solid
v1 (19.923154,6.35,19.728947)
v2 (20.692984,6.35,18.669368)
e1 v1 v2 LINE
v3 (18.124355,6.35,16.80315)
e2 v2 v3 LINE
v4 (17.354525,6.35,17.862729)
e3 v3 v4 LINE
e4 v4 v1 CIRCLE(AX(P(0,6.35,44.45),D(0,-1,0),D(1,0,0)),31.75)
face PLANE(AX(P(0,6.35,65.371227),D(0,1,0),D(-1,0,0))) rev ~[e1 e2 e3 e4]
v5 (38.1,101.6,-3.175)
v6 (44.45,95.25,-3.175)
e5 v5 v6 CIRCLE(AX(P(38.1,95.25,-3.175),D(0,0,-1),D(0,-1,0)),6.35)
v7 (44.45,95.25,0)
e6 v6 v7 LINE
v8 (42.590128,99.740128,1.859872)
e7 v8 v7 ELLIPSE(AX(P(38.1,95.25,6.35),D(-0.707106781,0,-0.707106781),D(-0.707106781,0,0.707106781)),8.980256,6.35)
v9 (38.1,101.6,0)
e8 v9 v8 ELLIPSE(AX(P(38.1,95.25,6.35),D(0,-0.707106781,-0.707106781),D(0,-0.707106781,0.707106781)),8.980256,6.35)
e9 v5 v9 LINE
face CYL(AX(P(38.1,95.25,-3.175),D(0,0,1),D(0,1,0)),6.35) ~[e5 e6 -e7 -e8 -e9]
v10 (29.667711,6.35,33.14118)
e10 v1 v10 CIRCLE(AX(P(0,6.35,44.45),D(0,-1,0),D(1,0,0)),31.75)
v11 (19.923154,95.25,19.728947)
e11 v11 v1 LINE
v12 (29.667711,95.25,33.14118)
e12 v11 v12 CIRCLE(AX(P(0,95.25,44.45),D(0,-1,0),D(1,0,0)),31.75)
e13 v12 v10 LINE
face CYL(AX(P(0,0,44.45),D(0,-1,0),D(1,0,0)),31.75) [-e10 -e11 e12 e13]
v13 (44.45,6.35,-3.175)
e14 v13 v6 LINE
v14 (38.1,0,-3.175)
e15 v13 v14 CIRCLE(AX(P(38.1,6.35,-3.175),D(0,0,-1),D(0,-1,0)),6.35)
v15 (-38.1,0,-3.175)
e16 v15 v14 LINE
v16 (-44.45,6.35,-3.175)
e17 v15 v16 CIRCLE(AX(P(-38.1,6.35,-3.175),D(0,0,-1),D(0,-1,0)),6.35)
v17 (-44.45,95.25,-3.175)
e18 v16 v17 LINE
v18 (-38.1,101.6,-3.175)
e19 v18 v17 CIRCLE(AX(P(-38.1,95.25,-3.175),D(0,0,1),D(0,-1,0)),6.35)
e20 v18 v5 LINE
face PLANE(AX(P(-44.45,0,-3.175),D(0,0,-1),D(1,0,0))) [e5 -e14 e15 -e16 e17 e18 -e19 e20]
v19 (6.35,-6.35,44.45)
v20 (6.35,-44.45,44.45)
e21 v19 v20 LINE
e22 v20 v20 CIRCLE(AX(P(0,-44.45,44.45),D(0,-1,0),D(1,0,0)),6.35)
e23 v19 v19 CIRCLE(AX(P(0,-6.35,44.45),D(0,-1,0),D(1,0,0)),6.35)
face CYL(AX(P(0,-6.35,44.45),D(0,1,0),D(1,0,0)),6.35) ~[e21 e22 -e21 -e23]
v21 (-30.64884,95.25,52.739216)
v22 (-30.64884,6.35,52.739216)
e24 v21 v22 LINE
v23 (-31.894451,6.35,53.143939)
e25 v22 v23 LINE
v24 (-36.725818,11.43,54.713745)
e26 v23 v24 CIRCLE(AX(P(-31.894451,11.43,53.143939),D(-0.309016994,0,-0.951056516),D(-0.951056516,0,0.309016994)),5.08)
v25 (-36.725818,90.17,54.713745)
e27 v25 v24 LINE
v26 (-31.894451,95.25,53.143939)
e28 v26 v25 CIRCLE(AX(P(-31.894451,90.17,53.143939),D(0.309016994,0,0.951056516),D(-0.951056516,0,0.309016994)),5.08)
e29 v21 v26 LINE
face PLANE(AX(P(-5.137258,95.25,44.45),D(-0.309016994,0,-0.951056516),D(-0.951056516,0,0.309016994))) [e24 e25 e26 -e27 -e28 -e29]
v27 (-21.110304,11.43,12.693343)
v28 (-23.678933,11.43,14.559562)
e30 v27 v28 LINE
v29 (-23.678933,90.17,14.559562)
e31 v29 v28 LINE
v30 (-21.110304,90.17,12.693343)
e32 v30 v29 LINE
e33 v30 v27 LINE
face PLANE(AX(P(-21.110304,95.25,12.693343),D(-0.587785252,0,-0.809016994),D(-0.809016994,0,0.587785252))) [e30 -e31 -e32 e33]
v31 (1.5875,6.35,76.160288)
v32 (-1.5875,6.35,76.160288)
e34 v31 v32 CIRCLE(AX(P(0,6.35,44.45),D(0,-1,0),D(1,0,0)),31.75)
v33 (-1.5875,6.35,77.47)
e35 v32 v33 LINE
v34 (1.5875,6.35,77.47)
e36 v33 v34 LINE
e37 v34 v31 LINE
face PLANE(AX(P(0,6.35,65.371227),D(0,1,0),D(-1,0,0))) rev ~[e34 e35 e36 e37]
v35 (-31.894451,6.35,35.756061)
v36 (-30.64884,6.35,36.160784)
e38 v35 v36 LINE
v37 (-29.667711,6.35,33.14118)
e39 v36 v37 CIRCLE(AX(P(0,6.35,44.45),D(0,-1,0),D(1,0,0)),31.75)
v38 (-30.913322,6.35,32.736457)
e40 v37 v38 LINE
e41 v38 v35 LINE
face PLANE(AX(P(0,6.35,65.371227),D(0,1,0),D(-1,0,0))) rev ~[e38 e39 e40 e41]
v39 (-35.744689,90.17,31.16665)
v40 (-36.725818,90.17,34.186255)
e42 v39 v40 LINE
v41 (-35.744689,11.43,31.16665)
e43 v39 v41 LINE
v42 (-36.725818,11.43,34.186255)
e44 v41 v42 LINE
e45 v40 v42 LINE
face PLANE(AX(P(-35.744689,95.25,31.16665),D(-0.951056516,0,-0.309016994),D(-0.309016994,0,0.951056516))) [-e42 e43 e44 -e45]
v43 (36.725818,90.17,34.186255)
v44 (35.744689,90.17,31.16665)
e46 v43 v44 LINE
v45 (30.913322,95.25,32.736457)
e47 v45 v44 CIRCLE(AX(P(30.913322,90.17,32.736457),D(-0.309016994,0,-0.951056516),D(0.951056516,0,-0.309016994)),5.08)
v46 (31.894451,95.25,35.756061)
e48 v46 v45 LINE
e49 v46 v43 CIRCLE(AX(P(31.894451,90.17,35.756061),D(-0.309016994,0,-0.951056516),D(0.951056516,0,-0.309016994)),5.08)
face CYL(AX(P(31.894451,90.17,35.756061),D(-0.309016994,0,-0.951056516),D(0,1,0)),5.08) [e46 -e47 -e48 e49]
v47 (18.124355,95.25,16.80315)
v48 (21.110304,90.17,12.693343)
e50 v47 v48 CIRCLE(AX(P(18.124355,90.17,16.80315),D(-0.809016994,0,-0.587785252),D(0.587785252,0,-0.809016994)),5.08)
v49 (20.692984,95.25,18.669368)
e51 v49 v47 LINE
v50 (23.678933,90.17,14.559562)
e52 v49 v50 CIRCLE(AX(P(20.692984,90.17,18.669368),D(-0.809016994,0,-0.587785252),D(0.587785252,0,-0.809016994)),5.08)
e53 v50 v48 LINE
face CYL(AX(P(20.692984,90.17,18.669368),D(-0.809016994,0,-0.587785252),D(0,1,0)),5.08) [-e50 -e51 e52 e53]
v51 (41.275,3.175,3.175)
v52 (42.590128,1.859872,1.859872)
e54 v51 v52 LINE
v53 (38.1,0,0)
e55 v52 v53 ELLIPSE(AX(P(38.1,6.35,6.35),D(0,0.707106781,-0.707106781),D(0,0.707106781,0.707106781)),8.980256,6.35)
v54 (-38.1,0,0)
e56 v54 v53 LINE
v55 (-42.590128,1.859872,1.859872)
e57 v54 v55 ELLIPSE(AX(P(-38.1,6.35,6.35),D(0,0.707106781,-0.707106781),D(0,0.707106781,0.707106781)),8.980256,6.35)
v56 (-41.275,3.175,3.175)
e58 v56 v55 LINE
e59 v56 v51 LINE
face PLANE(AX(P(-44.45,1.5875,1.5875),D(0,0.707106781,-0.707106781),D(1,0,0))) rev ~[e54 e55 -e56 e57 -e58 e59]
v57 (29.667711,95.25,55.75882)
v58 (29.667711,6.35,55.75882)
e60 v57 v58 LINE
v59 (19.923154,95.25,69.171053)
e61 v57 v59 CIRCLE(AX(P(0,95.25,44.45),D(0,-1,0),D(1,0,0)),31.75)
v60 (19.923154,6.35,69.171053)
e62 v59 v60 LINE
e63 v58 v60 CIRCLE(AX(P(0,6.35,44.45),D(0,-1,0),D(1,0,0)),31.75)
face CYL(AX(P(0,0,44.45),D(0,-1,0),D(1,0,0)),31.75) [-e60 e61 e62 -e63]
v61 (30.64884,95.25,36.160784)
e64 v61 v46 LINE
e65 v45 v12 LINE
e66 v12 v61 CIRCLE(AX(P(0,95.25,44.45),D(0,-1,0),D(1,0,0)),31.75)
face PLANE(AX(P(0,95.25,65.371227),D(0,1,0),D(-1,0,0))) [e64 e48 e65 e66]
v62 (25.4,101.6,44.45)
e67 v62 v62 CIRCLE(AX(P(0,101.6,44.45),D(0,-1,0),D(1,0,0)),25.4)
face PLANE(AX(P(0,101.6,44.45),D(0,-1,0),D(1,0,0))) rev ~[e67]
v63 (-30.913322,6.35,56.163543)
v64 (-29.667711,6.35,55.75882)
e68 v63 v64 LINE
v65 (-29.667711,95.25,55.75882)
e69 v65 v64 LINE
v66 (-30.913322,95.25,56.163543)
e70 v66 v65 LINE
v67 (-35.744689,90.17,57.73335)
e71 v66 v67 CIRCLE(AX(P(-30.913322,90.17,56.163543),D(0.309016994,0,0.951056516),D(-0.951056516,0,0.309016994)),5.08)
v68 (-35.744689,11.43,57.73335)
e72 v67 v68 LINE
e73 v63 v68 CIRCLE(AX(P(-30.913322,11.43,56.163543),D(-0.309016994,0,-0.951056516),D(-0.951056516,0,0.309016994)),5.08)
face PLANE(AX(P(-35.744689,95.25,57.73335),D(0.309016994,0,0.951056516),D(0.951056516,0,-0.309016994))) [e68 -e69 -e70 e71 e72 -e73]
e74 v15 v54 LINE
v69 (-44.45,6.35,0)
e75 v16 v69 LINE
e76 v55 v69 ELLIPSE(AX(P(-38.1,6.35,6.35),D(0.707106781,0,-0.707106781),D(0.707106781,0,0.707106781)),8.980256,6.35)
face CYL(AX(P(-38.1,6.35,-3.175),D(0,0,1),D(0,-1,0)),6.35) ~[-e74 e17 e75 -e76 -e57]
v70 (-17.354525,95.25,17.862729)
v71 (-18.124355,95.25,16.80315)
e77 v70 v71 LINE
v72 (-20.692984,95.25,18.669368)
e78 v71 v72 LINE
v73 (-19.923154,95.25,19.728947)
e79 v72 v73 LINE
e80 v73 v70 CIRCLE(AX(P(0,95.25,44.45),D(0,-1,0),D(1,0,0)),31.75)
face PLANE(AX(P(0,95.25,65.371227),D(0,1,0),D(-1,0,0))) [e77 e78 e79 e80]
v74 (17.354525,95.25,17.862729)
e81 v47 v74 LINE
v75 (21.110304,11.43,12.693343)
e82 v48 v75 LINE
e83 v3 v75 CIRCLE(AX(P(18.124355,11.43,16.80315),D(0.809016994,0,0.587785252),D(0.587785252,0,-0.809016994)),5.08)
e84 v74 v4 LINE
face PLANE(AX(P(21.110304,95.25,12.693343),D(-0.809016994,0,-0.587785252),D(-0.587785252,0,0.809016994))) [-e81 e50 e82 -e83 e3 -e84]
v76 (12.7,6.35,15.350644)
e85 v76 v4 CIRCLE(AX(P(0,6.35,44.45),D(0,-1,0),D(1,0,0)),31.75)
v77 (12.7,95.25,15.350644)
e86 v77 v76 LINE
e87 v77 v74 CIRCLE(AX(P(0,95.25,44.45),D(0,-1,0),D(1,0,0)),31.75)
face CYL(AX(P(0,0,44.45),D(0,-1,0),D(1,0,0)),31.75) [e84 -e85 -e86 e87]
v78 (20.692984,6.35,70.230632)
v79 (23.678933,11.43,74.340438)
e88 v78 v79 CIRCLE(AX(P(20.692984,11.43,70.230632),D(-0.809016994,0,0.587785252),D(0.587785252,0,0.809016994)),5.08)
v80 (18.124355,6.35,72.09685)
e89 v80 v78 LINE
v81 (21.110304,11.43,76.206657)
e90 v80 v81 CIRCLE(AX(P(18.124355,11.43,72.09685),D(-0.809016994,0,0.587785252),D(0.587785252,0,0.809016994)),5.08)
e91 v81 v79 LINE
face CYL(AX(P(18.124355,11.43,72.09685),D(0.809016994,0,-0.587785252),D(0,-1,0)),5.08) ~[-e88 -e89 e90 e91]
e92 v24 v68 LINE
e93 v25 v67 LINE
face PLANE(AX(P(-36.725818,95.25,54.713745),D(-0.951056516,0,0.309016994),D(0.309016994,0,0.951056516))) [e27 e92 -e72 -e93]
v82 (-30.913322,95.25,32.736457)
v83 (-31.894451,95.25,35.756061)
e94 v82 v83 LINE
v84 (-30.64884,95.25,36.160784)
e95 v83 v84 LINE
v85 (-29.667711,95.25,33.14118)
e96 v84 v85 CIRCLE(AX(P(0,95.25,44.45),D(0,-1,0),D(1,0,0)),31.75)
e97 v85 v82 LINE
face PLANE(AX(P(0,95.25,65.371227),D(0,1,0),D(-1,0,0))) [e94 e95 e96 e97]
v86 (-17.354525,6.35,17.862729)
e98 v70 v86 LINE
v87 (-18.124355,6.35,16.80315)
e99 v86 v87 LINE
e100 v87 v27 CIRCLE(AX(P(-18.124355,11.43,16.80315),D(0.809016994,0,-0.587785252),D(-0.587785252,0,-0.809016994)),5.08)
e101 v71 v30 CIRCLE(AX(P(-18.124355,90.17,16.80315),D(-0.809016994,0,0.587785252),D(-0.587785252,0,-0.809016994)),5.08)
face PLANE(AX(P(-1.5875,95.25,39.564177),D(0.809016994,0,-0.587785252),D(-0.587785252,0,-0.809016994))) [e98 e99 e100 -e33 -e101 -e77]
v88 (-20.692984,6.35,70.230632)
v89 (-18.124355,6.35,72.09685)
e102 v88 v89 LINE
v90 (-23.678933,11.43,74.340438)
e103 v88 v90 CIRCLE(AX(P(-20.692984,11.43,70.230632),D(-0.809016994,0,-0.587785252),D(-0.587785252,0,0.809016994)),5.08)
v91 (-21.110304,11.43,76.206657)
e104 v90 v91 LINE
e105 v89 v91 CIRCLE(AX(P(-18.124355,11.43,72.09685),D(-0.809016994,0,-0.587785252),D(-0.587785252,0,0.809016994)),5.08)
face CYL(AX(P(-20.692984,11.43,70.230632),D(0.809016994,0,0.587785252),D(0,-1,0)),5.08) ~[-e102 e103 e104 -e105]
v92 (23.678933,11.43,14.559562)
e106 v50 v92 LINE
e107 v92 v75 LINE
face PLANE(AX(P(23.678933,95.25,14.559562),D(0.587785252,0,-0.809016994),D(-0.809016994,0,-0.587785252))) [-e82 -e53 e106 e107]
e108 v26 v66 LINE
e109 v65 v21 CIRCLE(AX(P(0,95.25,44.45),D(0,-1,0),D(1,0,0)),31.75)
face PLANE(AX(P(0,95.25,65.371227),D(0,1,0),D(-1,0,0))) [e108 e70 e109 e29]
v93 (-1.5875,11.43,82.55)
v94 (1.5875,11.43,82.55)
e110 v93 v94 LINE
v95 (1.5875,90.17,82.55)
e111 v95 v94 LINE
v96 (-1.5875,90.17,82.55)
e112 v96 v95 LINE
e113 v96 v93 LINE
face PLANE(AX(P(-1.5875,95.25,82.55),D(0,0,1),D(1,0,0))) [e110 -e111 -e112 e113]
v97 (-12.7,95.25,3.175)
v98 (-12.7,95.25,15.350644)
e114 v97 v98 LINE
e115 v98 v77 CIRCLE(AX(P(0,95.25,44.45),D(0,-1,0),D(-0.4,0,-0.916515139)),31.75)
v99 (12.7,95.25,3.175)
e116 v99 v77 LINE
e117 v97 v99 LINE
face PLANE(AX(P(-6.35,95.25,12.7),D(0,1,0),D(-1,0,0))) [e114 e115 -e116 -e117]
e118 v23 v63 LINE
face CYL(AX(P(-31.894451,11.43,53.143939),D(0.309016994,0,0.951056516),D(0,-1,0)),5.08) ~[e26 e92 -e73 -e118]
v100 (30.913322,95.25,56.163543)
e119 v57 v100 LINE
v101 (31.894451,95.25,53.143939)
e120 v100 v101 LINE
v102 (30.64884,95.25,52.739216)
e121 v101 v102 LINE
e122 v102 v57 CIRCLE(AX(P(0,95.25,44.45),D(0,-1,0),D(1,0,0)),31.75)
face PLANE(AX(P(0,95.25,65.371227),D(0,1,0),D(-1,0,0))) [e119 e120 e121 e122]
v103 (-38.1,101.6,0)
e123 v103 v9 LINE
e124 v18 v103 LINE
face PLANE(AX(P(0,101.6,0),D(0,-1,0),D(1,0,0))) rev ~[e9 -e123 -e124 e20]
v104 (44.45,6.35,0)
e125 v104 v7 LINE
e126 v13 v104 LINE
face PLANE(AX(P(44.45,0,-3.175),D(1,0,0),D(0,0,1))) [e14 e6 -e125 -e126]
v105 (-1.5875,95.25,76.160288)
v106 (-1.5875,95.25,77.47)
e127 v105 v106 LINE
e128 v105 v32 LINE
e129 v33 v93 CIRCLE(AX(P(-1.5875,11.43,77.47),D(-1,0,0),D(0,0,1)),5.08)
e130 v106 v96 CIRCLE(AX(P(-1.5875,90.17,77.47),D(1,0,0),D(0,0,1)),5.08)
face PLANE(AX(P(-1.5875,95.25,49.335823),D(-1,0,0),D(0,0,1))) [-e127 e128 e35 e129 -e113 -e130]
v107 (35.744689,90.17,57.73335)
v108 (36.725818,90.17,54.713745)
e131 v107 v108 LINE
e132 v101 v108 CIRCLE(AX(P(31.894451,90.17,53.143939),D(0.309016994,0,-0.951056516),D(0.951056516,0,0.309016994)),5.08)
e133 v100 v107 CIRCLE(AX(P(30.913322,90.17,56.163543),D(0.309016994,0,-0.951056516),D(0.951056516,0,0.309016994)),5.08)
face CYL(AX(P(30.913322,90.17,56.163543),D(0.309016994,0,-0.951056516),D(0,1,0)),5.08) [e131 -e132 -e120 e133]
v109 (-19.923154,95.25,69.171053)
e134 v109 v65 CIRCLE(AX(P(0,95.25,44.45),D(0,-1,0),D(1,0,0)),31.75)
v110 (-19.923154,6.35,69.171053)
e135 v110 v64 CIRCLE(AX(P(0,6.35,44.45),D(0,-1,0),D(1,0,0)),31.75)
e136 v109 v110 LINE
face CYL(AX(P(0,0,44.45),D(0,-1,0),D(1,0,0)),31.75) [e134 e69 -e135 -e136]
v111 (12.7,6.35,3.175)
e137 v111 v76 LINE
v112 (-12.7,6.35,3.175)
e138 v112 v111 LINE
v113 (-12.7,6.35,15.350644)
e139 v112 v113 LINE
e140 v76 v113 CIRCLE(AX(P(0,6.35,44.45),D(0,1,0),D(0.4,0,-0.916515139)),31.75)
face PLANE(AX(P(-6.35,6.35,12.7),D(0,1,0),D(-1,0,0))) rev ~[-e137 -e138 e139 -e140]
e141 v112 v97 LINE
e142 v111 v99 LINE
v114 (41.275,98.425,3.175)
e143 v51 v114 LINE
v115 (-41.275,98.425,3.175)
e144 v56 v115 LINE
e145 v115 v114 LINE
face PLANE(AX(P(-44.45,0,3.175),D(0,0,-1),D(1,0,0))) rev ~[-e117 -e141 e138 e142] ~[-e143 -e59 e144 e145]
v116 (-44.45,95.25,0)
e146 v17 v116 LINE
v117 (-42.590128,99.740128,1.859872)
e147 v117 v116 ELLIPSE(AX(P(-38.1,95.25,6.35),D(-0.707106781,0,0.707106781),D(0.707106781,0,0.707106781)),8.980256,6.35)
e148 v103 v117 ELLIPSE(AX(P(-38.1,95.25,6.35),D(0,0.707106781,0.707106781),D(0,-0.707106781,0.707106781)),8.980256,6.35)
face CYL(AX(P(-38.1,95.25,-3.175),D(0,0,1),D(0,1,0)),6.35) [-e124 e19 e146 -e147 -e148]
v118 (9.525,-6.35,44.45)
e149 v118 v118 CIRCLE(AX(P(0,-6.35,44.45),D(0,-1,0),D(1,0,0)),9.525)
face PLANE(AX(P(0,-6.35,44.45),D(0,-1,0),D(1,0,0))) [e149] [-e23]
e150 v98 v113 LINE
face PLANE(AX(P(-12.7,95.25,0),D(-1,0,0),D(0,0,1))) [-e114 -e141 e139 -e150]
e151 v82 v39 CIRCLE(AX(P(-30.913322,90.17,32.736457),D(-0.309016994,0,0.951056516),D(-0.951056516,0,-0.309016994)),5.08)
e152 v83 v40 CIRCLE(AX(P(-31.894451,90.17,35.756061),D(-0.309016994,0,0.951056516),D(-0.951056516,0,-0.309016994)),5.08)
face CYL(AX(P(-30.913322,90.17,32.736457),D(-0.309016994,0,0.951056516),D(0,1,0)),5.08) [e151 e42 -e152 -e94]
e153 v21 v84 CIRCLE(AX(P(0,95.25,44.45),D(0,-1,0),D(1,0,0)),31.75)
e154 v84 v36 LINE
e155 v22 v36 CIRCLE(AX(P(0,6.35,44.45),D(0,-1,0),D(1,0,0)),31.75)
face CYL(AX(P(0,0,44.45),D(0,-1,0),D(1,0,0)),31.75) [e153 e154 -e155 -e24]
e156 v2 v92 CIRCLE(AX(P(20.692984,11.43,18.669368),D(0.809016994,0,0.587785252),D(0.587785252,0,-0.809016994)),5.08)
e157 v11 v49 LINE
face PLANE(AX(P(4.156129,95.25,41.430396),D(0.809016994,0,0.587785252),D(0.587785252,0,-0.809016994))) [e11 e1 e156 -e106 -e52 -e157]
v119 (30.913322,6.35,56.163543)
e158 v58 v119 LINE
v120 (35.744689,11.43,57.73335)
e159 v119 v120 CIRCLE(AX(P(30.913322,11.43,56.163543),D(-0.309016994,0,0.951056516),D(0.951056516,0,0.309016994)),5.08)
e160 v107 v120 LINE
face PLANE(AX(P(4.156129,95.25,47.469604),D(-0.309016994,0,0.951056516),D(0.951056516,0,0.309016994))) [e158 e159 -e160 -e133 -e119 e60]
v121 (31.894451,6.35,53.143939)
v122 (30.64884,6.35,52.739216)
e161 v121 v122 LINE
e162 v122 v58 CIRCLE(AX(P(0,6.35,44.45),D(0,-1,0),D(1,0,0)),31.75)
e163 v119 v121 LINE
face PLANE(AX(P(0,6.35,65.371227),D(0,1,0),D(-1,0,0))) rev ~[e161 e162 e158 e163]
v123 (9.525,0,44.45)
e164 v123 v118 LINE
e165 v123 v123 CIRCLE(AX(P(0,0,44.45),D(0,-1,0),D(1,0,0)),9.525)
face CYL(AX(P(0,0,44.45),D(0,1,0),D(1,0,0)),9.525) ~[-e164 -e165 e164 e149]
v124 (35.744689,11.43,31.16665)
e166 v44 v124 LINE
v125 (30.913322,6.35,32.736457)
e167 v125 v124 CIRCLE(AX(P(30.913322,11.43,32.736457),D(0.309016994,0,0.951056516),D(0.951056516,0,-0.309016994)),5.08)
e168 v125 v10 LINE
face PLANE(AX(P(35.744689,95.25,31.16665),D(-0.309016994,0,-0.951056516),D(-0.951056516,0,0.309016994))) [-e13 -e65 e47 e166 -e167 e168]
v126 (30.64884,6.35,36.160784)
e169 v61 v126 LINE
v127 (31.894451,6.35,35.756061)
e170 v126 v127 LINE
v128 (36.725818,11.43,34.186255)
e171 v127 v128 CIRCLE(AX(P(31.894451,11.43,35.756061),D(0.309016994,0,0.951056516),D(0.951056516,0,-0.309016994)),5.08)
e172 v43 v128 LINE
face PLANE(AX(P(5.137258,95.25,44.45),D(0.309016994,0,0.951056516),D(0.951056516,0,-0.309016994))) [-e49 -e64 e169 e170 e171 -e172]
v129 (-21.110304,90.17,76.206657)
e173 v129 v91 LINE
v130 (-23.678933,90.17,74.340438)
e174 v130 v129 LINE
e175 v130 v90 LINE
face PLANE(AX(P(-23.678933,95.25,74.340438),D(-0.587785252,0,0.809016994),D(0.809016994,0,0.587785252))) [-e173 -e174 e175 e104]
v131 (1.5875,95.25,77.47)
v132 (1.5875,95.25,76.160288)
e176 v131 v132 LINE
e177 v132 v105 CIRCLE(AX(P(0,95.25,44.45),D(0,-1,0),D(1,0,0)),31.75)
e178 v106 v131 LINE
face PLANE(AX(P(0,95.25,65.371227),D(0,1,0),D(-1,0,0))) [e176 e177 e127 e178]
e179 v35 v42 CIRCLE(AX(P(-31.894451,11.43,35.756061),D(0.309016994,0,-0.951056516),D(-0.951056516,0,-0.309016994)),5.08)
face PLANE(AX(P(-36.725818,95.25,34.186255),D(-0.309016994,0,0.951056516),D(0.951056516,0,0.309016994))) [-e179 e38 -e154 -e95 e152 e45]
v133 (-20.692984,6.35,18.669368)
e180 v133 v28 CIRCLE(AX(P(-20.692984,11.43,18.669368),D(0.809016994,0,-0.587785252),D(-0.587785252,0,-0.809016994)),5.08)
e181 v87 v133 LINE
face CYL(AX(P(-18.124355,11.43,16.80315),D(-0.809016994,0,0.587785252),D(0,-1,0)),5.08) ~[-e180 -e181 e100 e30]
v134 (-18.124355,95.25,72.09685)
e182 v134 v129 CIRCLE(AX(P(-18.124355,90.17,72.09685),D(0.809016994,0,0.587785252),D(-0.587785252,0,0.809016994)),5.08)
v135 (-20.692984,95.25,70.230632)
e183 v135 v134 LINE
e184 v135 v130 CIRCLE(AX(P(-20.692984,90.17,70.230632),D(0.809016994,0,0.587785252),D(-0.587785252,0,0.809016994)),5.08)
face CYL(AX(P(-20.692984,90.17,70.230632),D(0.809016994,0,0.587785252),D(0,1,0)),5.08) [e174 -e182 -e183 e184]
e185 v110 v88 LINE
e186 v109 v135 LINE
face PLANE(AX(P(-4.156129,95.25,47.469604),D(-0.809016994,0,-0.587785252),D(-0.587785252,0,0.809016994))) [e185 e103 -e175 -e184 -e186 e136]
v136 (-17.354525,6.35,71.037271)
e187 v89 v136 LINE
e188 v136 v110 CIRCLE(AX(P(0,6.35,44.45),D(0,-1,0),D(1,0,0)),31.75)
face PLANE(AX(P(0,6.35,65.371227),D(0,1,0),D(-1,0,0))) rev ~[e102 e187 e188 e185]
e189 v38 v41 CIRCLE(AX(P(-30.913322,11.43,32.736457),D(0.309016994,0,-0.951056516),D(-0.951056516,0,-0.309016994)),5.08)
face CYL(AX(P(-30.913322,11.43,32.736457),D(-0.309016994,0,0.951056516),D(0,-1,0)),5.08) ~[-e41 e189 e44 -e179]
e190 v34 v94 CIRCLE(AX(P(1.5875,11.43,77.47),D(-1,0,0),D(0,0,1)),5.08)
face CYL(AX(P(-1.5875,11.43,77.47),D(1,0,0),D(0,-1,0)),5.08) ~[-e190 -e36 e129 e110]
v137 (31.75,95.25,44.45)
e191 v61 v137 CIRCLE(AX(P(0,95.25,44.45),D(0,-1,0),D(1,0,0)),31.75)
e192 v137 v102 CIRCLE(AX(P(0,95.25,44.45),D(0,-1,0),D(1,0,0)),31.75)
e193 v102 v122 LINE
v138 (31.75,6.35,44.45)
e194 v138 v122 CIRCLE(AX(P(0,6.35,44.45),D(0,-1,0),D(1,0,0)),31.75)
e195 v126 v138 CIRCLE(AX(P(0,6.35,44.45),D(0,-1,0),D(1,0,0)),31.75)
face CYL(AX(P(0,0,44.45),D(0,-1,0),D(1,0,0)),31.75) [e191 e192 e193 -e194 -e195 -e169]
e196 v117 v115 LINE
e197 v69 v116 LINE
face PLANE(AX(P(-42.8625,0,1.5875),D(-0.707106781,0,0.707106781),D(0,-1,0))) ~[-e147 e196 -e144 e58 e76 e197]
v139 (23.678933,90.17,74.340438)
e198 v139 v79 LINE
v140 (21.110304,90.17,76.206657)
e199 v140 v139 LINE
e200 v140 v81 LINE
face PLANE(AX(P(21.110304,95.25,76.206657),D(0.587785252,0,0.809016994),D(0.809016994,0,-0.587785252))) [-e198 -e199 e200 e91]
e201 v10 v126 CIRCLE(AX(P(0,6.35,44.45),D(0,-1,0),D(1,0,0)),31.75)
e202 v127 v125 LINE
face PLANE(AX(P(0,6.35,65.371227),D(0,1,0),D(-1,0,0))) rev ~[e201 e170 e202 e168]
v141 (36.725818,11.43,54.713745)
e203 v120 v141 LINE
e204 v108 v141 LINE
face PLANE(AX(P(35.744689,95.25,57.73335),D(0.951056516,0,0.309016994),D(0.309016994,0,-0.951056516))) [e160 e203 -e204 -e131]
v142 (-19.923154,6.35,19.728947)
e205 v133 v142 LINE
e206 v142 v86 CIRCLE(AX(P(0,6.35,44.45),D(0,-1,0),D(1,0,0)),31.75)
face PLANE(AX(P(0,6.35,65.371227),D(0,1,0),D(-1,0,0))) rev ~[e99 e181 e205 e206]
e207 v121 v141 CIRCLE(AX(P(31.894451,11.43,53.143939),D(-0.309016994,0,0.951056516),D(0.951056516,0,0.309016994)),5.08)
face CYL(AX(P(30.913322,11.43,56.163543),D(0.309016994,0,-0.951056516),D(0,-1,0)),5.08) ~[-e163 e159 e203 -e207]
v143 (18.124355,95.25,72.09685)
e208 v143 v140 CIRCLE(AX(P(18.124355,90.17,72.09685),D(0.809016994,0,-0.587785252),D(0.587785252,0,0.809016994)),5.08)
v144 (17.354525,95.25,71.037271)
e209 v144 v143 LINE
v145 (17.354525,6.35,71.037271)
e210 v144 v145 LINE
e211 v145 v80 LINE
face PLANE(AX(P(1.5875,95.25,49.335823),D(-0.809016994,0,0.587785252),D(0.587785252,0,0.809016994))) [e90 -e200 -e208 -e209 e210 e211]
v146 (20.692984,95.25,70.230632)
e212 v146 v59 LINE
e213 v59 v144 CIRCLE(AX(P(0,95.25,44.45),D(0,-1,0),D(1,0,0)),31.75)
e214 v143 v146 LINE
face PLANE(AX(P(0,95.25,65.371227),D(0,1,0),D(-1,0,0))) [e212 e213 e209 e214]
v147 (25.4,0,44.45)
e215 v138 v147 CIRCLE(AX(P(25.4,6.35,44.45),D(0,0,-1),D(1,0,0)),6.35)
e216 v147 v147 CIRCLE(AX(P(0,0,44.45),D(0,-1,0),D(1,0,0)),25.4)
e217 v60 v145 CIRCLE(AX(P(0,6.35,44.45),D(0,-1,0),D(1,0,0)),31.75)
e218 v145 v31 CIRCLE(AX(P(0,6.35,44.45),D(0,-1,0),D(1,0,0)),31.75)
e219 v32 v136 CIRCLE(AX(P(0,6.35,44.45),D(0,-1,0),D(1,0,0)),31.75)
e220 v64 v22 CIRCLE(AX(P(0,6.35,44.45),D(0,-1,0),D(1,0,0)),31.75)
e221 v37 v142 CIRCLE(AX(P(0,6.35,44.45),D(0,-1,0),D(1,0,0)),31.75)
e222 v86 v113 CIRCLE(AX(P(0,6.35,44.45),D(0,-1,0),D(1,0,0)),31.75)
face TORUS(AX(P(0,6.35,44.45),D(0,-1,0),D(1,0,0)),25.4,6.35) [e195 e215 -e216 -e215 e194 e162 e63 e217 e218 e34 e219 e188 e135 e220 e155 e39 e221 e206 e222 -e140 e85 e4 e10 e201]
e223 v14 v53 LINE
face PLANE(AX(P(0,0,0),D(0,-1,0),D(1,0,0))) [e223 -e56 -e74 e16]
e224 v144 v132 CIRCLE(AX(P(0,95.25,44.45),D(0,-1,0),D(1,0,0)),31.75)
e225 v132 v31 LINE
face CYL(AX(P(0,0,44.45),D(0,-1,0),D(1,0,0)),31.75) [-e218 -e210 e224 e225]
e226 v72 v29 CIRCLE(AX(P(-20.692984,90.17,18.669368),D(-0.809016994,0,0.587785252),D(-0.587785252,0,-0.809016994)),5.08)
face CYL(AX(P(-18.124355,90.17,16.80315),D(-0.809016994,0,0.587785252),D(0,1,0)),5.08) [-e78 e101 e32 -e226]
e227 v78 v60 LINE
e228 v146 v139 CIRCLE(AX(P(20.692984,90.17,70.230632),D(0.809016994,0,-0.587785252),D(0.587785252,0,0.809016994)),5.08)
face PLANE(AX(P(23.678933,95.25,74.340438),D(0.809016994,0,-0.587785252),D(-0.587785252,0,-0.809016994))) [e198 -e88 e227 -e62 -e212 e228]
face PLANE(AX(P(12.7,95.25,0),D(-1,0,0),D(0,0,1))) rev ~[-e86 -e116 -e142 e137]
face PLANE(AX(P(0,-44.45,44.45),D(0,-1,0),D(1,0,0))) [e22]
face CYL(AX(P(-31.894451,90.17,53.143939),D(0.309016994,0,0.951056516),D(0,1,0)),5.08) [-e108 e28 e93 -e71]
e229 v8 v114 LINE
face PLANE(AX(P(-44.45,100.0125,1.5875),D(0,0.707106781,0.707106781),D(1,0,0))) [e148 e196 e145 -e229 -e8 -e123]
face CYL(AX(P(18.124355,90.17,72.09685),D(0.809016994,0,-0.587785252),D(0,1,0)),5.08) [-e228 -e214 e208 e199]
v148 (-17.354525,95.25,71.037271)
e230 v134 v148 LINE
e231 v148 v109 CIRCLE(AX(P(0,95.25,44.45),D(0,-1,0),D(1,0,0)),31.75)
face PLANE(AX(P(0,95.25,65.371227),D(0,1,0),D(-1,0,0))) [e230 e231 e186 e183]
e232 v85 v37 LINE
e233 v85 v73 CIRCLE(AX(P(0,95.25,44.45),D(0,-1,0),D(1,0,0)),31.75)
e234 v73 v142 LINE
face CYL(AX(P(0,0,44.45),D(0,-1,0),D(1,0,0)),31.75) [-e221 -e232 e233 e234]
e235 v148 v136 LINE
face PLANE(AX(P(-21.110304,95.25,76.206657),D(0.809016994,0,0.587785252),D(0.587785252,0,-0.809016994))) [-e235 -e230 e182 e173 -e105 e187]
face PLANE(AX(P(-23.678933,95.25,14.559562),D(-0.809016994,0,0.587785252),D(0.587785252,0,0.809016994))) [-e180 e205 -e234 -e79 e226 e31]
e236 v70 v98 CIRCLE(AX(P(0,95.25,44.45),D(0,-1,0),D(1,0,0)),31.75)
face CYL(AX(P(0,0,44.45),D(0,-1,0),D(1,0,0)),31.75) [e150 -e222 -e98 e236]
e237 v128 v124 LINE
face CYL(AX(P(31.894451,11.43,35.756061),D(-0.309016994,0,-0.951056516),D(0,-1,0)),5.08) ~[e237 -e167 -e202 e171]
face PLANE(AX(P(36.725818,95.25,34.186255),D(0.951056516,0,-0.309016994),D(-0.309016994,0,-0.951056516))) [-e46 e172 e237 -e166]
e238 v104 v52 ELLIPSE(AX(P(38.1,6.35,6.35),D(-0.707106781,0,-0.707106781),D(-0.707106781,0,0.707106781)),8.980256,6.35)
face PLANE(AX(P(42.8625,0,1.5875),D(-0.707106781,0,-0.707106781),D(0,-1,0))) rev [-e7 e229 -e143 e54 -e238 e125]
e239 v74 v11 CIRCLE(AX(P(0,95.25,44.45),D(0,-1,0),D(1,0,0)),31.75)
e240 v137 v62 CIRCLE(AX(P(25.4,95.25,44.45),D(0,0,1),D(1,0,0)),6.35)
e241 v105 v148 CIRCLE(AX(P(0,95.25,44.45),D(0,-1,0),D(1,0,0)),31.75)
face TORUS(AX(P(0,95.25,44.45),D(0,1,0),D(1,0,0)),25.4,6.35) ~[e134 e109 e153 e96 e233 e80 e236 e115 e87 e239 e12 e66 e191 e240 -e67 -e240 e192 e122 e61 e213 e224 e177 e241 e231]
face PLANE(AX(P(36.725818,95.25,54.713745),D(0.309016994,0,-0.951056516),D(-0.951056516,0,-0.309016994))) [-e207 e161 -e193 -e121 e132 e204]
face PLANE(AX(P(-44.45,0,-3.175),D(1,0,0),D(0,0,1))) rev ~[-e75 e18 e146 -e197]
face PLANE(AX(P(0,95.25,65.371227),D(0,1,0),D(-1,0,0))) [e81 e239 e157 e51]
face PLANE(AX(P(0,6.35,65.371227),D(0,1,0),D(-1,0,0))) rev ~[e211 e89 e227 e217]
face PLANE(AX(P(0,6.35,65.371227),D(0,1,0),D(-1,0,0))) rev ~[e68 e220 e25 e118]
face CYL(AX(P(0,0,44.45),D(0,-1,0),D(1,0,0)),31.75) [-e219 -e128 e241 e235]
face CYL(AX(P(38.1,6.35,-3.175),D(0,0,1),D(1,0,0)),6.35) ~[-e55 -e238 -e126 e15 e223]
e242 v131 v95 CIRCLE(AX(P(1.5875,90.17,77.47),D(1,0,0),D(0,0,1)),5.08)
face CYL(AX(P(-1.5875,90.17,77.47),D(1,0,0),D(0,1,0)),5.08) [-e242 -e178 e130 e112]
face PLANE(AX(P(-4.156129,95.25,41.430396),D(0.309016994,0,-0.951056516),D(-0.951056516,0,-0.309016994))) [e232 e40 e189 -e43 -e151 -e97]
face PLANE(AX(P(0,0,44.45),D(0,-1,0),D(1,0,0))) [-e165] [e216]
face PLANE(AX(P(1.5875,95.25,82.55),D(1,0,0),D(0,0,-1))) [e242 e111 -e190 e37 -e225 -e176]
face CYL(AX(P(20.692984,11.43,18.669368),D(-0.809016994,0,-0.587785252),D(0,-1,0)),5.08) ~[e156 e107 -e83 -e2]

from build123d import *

# Parameters (mm, degrees)
F0_R      = 31.75
F1_DEPTH  = 101.6
F0_W      = 88.9
F0_H      = 6.35
F2_R      = 6.35
F3_SIZE   = 3.175
F6_DEPTH  = 88.9
F7_R      = 5.08
F8_W      = 12.7
F8_H      = 25.4
F9_DEPTH  = 88.9
F10_R     = 6.35
F11_R     = 9.525
F12_DEPTH = 6.35
F13_R     = 6.35
F14_DEPTH = 38.1


with BuildPart() as f1:
    # F0 (on Front) → F1 (new body)
    with BuildSketch(Plane.XZ):
        with Locations((0, 44.45)):
            Circle(F0_R)
    extrude(amount=-F1_DEPTH)

    # F2
    f2_edges = [f1.edges().sort_by_distance(p)[0] for p in [
        (-31.75, 0, 44.45),
        (-31.75, 101.6, 44.45),
    ]]
    fillet(f2_edges, radius=F2_R)

    # F5 (on offset) → F6 (join)
    with BuildSketch(Plane(origin=(0, 95.25, 0), x_dir=(-1, 0, 0), z_dir=(0, 1, 0))):
        Polygon((1.5875, 49.3358226153), (1.5875, 82.55), (-1.5875, 82.55), (-1.5875, 49.3358226153), (0, 47.1508163165), align=None)
        Polygon((21.1103036338, 76.2066565737), (1.5875, 49.3358226153), (1.5875, 46.6350062987), (4.1561289571, 47.4696044392), (23.6789325909, 74.3404383977), align=None)
        Polygon((1.5875, 46.6350062987), (1.5875, 49.3358226153), (0, 47.1508163165), (0.6063710429, 46.316218176), align=None)
        Polygon((0, 47.1508163165), (-1.5875, 49.3358226153), (-1.5875, 46.6350062987), (-0.6063710429, 46.316218176), align=None)
        Polygon((-1.5875, 46.6350062987), (-1.5875, 49.3358226153), (-21.1103036338, 76.2066565737), (-23.6789325909, 74.3404383977), (-4.1561289571, 47.4696044392), align=None)
        Polygon((4.1561289571, 47.4696044392), (1.5875, 46.6350062987), (1.5875, 45.6033862632), (2.5686289571, 45.2845981405), align=None)
        Polygon((-1.5875, 45.6033862632), (-1.5875, 46.6350062987), (-4.1561289571, 47.4696044392), (-2.5686289571, 45.2845981405), align=None)
        Polygon((35.7446887923, 57.7333497053), (4.1561289571, 47.4696044392), (2.5686289571, 45.2845981405), (5.1372579143, 44.45), (36.7258177494, 54.7137452661), align=None)
        Polygon((-2.5686289571, 45.2845981405), (-4.1561289571, 47.4696044392), (-35.7446887923, 57.7333497053), (-36.7258177494, 54.7137452661), (-5.1372579143, 44.45), align=None)
        Polygon((5.1372579143, 44.45), (2.5686289571, 45.2845981405), (1.9622579143, 44.45), (2.5686289571, 43.6154018595), align=None)
        Polygon((-1.9622579143, 44.45), (-2.5686289571, 45.2845981405), (-5.1372579143, 44.45), (-2.5686289571, 43.6154018595), align=None)
        Polygon((36.7258177494, 34.1862547339), (5.1372579143, 44.45), (2.5686289571, 43.6154018595), (4.1561289571, 41.4303955608), (35.7446887923, 31.1666502947), align=None)
        Polygon((-2.5686289571, 43.6154018595), (-5.1372579143, 44.45), (-36.7258177494, 34.1862547339), (-35.7446887923, 31.1666502947), (-4.1561289571, 41.4303955608), align=None)
        Polygon((2.5686289571, 43.6154018595), (1.5875, 43.2966137368), (1.5875, 42.2649937013), (4.1561289571, 41.4303955608), align=None)
        Polygon((-1.5875, 42.2649937013), (-1.5875, 43.2966137368), (-2.5686289571, 43.6154018595), (-4.1561289571, 41.4303955608), align=None)
        Polygon((4.1561289571, 41.4303955608), (1.5875, 42.2649937013), (1.5875, 39.5641773847), (21.1103036338, 12.6933434263), (23.6789325909, 14.5595616023), align=None)
        Polygon((1.5875, 39.5641773847), (1.5875, 42.2649937013), (0.6063710429, 42.583781824), (0, 41.7491836835), align=None)
        Polygon((-0.6063710429, 42.583781824), (-1.5875, 42.2649937013), (-1.5875, 39.5641773847), (0, 41.7491836835), align=None)
        Polygon((-1.5875, 39.5641773847), (-1.5875, 42.2649937013), (-4.1561289571, 41.4303955608), (-23.6789325909, 14.5595616023), (-21.1103036338, 12.6933434263), align=None)
        Polygon((1.5875, 6.35), (1.5875, 39.5641773847), (0, 41.7491836835), (-1.5875, 39.5641773847), (-1.5875, 6.35), align=None)
    extrude(amount=-F6_DEPTH)

    # F7
    f7_edges = [f1.edges().sort_by_distance(p)[0] for p in [
        (0, 95.25, 82.55),
        (-22.394618, 95.25, 75.273547),
        (22.394618, 95.25, 75.273547),
        (36.235253, 95.25, 56.223547),
        (36.235253, 95.25, 32.676453),
        (22.394618, 95.25, 13.626453),
        (0, 95.25, 6.35),
        (-22.394618, 95.25, 13.626453),
        (-36.235253, 95.25, 32.676453),
        (-36.235253, 95.25, 56.223547),
        (-36.235253, 6.35, 56.223547),
        (-36.235253, 6.35, 32.676453),
        (-22.394618, 6.35, 75.273547),
        (0, 6.35, 82.55),
        (22.394618, 6.35, 75.273547),
        (36.235253, 6.35, 56.223547),
        (36.235253, 6.35, 32.676453),
        (22.394618, 6.35, 13.626453),
        (0, 6.35, 6.35),
        (-22.394618, 6.35, 13.626453),
    ]]
    fillet(f7_edges, radius=F7_R)



with BuildPart() as f1b:
    # F0 (on Front) → F1, piece 2 (new body)
    with BuildSketch(Plane.XZ):
        Rectangle(F0_W, F0_H)
    extrude(amount=-F1_DEPTH)

    # F3
    f3_edges = [f1b.edges().sort_by_distance(p)[0] for p in [
        (0, 0, 3.175),
        (44.45, 50.8, 3.175),
        (-44.45, 50.8, 3.175),
        (0, 101.6, 3.175),
    ]]
    chamfer(f3_edges, length=F3_SIZE)


with BuildPart() as f1_1:
    add(f1.part)

    add(f1b.part)  # F9 merges F1b
    # F8 (on offset) → F9 (join)
    with BuildSketch(Plane(origin=(0, 95.25, 0), x_dir=(-1, 0, 0), z_dir=(0, 1, 0))):
        with Locations((6.35, 12.7)):
            Rectangle(F8_W, F8_H)
        with Locations((-6.35, 12.7)):
            Rectangle(F8_W, F8_H)
    extrude(amount=-F9_DEPTH)

    # F10
    f10_edges = [f1_1.edges().sort_by_distance(p)[0] for p in [
        (-44.45, 101.6, -1.5875),
        (44.45, 101.6, -1.5875),
        (44.45, 0, -1.5875),
        (-44.45, 0, -1.5875),
    ]]
    fillet(f10_edges, radius=F10_R)

    # F11 (on face) → F12 (join)
    with BuildSketch(Plane.XZ):
        with Locations((0, 44.45)):
            Circle(F11_R)
    extrude(amount=F12_DEPTH)

    # F13 (on face) → F14 (join)
    with BuildSketch(Plane.XZ.offset(6.35)):
        with Locations((0, 44.45)):
            Circle(F13_R)
    extrude(amount=F14_DEPTH)


solid = f1_1.part
